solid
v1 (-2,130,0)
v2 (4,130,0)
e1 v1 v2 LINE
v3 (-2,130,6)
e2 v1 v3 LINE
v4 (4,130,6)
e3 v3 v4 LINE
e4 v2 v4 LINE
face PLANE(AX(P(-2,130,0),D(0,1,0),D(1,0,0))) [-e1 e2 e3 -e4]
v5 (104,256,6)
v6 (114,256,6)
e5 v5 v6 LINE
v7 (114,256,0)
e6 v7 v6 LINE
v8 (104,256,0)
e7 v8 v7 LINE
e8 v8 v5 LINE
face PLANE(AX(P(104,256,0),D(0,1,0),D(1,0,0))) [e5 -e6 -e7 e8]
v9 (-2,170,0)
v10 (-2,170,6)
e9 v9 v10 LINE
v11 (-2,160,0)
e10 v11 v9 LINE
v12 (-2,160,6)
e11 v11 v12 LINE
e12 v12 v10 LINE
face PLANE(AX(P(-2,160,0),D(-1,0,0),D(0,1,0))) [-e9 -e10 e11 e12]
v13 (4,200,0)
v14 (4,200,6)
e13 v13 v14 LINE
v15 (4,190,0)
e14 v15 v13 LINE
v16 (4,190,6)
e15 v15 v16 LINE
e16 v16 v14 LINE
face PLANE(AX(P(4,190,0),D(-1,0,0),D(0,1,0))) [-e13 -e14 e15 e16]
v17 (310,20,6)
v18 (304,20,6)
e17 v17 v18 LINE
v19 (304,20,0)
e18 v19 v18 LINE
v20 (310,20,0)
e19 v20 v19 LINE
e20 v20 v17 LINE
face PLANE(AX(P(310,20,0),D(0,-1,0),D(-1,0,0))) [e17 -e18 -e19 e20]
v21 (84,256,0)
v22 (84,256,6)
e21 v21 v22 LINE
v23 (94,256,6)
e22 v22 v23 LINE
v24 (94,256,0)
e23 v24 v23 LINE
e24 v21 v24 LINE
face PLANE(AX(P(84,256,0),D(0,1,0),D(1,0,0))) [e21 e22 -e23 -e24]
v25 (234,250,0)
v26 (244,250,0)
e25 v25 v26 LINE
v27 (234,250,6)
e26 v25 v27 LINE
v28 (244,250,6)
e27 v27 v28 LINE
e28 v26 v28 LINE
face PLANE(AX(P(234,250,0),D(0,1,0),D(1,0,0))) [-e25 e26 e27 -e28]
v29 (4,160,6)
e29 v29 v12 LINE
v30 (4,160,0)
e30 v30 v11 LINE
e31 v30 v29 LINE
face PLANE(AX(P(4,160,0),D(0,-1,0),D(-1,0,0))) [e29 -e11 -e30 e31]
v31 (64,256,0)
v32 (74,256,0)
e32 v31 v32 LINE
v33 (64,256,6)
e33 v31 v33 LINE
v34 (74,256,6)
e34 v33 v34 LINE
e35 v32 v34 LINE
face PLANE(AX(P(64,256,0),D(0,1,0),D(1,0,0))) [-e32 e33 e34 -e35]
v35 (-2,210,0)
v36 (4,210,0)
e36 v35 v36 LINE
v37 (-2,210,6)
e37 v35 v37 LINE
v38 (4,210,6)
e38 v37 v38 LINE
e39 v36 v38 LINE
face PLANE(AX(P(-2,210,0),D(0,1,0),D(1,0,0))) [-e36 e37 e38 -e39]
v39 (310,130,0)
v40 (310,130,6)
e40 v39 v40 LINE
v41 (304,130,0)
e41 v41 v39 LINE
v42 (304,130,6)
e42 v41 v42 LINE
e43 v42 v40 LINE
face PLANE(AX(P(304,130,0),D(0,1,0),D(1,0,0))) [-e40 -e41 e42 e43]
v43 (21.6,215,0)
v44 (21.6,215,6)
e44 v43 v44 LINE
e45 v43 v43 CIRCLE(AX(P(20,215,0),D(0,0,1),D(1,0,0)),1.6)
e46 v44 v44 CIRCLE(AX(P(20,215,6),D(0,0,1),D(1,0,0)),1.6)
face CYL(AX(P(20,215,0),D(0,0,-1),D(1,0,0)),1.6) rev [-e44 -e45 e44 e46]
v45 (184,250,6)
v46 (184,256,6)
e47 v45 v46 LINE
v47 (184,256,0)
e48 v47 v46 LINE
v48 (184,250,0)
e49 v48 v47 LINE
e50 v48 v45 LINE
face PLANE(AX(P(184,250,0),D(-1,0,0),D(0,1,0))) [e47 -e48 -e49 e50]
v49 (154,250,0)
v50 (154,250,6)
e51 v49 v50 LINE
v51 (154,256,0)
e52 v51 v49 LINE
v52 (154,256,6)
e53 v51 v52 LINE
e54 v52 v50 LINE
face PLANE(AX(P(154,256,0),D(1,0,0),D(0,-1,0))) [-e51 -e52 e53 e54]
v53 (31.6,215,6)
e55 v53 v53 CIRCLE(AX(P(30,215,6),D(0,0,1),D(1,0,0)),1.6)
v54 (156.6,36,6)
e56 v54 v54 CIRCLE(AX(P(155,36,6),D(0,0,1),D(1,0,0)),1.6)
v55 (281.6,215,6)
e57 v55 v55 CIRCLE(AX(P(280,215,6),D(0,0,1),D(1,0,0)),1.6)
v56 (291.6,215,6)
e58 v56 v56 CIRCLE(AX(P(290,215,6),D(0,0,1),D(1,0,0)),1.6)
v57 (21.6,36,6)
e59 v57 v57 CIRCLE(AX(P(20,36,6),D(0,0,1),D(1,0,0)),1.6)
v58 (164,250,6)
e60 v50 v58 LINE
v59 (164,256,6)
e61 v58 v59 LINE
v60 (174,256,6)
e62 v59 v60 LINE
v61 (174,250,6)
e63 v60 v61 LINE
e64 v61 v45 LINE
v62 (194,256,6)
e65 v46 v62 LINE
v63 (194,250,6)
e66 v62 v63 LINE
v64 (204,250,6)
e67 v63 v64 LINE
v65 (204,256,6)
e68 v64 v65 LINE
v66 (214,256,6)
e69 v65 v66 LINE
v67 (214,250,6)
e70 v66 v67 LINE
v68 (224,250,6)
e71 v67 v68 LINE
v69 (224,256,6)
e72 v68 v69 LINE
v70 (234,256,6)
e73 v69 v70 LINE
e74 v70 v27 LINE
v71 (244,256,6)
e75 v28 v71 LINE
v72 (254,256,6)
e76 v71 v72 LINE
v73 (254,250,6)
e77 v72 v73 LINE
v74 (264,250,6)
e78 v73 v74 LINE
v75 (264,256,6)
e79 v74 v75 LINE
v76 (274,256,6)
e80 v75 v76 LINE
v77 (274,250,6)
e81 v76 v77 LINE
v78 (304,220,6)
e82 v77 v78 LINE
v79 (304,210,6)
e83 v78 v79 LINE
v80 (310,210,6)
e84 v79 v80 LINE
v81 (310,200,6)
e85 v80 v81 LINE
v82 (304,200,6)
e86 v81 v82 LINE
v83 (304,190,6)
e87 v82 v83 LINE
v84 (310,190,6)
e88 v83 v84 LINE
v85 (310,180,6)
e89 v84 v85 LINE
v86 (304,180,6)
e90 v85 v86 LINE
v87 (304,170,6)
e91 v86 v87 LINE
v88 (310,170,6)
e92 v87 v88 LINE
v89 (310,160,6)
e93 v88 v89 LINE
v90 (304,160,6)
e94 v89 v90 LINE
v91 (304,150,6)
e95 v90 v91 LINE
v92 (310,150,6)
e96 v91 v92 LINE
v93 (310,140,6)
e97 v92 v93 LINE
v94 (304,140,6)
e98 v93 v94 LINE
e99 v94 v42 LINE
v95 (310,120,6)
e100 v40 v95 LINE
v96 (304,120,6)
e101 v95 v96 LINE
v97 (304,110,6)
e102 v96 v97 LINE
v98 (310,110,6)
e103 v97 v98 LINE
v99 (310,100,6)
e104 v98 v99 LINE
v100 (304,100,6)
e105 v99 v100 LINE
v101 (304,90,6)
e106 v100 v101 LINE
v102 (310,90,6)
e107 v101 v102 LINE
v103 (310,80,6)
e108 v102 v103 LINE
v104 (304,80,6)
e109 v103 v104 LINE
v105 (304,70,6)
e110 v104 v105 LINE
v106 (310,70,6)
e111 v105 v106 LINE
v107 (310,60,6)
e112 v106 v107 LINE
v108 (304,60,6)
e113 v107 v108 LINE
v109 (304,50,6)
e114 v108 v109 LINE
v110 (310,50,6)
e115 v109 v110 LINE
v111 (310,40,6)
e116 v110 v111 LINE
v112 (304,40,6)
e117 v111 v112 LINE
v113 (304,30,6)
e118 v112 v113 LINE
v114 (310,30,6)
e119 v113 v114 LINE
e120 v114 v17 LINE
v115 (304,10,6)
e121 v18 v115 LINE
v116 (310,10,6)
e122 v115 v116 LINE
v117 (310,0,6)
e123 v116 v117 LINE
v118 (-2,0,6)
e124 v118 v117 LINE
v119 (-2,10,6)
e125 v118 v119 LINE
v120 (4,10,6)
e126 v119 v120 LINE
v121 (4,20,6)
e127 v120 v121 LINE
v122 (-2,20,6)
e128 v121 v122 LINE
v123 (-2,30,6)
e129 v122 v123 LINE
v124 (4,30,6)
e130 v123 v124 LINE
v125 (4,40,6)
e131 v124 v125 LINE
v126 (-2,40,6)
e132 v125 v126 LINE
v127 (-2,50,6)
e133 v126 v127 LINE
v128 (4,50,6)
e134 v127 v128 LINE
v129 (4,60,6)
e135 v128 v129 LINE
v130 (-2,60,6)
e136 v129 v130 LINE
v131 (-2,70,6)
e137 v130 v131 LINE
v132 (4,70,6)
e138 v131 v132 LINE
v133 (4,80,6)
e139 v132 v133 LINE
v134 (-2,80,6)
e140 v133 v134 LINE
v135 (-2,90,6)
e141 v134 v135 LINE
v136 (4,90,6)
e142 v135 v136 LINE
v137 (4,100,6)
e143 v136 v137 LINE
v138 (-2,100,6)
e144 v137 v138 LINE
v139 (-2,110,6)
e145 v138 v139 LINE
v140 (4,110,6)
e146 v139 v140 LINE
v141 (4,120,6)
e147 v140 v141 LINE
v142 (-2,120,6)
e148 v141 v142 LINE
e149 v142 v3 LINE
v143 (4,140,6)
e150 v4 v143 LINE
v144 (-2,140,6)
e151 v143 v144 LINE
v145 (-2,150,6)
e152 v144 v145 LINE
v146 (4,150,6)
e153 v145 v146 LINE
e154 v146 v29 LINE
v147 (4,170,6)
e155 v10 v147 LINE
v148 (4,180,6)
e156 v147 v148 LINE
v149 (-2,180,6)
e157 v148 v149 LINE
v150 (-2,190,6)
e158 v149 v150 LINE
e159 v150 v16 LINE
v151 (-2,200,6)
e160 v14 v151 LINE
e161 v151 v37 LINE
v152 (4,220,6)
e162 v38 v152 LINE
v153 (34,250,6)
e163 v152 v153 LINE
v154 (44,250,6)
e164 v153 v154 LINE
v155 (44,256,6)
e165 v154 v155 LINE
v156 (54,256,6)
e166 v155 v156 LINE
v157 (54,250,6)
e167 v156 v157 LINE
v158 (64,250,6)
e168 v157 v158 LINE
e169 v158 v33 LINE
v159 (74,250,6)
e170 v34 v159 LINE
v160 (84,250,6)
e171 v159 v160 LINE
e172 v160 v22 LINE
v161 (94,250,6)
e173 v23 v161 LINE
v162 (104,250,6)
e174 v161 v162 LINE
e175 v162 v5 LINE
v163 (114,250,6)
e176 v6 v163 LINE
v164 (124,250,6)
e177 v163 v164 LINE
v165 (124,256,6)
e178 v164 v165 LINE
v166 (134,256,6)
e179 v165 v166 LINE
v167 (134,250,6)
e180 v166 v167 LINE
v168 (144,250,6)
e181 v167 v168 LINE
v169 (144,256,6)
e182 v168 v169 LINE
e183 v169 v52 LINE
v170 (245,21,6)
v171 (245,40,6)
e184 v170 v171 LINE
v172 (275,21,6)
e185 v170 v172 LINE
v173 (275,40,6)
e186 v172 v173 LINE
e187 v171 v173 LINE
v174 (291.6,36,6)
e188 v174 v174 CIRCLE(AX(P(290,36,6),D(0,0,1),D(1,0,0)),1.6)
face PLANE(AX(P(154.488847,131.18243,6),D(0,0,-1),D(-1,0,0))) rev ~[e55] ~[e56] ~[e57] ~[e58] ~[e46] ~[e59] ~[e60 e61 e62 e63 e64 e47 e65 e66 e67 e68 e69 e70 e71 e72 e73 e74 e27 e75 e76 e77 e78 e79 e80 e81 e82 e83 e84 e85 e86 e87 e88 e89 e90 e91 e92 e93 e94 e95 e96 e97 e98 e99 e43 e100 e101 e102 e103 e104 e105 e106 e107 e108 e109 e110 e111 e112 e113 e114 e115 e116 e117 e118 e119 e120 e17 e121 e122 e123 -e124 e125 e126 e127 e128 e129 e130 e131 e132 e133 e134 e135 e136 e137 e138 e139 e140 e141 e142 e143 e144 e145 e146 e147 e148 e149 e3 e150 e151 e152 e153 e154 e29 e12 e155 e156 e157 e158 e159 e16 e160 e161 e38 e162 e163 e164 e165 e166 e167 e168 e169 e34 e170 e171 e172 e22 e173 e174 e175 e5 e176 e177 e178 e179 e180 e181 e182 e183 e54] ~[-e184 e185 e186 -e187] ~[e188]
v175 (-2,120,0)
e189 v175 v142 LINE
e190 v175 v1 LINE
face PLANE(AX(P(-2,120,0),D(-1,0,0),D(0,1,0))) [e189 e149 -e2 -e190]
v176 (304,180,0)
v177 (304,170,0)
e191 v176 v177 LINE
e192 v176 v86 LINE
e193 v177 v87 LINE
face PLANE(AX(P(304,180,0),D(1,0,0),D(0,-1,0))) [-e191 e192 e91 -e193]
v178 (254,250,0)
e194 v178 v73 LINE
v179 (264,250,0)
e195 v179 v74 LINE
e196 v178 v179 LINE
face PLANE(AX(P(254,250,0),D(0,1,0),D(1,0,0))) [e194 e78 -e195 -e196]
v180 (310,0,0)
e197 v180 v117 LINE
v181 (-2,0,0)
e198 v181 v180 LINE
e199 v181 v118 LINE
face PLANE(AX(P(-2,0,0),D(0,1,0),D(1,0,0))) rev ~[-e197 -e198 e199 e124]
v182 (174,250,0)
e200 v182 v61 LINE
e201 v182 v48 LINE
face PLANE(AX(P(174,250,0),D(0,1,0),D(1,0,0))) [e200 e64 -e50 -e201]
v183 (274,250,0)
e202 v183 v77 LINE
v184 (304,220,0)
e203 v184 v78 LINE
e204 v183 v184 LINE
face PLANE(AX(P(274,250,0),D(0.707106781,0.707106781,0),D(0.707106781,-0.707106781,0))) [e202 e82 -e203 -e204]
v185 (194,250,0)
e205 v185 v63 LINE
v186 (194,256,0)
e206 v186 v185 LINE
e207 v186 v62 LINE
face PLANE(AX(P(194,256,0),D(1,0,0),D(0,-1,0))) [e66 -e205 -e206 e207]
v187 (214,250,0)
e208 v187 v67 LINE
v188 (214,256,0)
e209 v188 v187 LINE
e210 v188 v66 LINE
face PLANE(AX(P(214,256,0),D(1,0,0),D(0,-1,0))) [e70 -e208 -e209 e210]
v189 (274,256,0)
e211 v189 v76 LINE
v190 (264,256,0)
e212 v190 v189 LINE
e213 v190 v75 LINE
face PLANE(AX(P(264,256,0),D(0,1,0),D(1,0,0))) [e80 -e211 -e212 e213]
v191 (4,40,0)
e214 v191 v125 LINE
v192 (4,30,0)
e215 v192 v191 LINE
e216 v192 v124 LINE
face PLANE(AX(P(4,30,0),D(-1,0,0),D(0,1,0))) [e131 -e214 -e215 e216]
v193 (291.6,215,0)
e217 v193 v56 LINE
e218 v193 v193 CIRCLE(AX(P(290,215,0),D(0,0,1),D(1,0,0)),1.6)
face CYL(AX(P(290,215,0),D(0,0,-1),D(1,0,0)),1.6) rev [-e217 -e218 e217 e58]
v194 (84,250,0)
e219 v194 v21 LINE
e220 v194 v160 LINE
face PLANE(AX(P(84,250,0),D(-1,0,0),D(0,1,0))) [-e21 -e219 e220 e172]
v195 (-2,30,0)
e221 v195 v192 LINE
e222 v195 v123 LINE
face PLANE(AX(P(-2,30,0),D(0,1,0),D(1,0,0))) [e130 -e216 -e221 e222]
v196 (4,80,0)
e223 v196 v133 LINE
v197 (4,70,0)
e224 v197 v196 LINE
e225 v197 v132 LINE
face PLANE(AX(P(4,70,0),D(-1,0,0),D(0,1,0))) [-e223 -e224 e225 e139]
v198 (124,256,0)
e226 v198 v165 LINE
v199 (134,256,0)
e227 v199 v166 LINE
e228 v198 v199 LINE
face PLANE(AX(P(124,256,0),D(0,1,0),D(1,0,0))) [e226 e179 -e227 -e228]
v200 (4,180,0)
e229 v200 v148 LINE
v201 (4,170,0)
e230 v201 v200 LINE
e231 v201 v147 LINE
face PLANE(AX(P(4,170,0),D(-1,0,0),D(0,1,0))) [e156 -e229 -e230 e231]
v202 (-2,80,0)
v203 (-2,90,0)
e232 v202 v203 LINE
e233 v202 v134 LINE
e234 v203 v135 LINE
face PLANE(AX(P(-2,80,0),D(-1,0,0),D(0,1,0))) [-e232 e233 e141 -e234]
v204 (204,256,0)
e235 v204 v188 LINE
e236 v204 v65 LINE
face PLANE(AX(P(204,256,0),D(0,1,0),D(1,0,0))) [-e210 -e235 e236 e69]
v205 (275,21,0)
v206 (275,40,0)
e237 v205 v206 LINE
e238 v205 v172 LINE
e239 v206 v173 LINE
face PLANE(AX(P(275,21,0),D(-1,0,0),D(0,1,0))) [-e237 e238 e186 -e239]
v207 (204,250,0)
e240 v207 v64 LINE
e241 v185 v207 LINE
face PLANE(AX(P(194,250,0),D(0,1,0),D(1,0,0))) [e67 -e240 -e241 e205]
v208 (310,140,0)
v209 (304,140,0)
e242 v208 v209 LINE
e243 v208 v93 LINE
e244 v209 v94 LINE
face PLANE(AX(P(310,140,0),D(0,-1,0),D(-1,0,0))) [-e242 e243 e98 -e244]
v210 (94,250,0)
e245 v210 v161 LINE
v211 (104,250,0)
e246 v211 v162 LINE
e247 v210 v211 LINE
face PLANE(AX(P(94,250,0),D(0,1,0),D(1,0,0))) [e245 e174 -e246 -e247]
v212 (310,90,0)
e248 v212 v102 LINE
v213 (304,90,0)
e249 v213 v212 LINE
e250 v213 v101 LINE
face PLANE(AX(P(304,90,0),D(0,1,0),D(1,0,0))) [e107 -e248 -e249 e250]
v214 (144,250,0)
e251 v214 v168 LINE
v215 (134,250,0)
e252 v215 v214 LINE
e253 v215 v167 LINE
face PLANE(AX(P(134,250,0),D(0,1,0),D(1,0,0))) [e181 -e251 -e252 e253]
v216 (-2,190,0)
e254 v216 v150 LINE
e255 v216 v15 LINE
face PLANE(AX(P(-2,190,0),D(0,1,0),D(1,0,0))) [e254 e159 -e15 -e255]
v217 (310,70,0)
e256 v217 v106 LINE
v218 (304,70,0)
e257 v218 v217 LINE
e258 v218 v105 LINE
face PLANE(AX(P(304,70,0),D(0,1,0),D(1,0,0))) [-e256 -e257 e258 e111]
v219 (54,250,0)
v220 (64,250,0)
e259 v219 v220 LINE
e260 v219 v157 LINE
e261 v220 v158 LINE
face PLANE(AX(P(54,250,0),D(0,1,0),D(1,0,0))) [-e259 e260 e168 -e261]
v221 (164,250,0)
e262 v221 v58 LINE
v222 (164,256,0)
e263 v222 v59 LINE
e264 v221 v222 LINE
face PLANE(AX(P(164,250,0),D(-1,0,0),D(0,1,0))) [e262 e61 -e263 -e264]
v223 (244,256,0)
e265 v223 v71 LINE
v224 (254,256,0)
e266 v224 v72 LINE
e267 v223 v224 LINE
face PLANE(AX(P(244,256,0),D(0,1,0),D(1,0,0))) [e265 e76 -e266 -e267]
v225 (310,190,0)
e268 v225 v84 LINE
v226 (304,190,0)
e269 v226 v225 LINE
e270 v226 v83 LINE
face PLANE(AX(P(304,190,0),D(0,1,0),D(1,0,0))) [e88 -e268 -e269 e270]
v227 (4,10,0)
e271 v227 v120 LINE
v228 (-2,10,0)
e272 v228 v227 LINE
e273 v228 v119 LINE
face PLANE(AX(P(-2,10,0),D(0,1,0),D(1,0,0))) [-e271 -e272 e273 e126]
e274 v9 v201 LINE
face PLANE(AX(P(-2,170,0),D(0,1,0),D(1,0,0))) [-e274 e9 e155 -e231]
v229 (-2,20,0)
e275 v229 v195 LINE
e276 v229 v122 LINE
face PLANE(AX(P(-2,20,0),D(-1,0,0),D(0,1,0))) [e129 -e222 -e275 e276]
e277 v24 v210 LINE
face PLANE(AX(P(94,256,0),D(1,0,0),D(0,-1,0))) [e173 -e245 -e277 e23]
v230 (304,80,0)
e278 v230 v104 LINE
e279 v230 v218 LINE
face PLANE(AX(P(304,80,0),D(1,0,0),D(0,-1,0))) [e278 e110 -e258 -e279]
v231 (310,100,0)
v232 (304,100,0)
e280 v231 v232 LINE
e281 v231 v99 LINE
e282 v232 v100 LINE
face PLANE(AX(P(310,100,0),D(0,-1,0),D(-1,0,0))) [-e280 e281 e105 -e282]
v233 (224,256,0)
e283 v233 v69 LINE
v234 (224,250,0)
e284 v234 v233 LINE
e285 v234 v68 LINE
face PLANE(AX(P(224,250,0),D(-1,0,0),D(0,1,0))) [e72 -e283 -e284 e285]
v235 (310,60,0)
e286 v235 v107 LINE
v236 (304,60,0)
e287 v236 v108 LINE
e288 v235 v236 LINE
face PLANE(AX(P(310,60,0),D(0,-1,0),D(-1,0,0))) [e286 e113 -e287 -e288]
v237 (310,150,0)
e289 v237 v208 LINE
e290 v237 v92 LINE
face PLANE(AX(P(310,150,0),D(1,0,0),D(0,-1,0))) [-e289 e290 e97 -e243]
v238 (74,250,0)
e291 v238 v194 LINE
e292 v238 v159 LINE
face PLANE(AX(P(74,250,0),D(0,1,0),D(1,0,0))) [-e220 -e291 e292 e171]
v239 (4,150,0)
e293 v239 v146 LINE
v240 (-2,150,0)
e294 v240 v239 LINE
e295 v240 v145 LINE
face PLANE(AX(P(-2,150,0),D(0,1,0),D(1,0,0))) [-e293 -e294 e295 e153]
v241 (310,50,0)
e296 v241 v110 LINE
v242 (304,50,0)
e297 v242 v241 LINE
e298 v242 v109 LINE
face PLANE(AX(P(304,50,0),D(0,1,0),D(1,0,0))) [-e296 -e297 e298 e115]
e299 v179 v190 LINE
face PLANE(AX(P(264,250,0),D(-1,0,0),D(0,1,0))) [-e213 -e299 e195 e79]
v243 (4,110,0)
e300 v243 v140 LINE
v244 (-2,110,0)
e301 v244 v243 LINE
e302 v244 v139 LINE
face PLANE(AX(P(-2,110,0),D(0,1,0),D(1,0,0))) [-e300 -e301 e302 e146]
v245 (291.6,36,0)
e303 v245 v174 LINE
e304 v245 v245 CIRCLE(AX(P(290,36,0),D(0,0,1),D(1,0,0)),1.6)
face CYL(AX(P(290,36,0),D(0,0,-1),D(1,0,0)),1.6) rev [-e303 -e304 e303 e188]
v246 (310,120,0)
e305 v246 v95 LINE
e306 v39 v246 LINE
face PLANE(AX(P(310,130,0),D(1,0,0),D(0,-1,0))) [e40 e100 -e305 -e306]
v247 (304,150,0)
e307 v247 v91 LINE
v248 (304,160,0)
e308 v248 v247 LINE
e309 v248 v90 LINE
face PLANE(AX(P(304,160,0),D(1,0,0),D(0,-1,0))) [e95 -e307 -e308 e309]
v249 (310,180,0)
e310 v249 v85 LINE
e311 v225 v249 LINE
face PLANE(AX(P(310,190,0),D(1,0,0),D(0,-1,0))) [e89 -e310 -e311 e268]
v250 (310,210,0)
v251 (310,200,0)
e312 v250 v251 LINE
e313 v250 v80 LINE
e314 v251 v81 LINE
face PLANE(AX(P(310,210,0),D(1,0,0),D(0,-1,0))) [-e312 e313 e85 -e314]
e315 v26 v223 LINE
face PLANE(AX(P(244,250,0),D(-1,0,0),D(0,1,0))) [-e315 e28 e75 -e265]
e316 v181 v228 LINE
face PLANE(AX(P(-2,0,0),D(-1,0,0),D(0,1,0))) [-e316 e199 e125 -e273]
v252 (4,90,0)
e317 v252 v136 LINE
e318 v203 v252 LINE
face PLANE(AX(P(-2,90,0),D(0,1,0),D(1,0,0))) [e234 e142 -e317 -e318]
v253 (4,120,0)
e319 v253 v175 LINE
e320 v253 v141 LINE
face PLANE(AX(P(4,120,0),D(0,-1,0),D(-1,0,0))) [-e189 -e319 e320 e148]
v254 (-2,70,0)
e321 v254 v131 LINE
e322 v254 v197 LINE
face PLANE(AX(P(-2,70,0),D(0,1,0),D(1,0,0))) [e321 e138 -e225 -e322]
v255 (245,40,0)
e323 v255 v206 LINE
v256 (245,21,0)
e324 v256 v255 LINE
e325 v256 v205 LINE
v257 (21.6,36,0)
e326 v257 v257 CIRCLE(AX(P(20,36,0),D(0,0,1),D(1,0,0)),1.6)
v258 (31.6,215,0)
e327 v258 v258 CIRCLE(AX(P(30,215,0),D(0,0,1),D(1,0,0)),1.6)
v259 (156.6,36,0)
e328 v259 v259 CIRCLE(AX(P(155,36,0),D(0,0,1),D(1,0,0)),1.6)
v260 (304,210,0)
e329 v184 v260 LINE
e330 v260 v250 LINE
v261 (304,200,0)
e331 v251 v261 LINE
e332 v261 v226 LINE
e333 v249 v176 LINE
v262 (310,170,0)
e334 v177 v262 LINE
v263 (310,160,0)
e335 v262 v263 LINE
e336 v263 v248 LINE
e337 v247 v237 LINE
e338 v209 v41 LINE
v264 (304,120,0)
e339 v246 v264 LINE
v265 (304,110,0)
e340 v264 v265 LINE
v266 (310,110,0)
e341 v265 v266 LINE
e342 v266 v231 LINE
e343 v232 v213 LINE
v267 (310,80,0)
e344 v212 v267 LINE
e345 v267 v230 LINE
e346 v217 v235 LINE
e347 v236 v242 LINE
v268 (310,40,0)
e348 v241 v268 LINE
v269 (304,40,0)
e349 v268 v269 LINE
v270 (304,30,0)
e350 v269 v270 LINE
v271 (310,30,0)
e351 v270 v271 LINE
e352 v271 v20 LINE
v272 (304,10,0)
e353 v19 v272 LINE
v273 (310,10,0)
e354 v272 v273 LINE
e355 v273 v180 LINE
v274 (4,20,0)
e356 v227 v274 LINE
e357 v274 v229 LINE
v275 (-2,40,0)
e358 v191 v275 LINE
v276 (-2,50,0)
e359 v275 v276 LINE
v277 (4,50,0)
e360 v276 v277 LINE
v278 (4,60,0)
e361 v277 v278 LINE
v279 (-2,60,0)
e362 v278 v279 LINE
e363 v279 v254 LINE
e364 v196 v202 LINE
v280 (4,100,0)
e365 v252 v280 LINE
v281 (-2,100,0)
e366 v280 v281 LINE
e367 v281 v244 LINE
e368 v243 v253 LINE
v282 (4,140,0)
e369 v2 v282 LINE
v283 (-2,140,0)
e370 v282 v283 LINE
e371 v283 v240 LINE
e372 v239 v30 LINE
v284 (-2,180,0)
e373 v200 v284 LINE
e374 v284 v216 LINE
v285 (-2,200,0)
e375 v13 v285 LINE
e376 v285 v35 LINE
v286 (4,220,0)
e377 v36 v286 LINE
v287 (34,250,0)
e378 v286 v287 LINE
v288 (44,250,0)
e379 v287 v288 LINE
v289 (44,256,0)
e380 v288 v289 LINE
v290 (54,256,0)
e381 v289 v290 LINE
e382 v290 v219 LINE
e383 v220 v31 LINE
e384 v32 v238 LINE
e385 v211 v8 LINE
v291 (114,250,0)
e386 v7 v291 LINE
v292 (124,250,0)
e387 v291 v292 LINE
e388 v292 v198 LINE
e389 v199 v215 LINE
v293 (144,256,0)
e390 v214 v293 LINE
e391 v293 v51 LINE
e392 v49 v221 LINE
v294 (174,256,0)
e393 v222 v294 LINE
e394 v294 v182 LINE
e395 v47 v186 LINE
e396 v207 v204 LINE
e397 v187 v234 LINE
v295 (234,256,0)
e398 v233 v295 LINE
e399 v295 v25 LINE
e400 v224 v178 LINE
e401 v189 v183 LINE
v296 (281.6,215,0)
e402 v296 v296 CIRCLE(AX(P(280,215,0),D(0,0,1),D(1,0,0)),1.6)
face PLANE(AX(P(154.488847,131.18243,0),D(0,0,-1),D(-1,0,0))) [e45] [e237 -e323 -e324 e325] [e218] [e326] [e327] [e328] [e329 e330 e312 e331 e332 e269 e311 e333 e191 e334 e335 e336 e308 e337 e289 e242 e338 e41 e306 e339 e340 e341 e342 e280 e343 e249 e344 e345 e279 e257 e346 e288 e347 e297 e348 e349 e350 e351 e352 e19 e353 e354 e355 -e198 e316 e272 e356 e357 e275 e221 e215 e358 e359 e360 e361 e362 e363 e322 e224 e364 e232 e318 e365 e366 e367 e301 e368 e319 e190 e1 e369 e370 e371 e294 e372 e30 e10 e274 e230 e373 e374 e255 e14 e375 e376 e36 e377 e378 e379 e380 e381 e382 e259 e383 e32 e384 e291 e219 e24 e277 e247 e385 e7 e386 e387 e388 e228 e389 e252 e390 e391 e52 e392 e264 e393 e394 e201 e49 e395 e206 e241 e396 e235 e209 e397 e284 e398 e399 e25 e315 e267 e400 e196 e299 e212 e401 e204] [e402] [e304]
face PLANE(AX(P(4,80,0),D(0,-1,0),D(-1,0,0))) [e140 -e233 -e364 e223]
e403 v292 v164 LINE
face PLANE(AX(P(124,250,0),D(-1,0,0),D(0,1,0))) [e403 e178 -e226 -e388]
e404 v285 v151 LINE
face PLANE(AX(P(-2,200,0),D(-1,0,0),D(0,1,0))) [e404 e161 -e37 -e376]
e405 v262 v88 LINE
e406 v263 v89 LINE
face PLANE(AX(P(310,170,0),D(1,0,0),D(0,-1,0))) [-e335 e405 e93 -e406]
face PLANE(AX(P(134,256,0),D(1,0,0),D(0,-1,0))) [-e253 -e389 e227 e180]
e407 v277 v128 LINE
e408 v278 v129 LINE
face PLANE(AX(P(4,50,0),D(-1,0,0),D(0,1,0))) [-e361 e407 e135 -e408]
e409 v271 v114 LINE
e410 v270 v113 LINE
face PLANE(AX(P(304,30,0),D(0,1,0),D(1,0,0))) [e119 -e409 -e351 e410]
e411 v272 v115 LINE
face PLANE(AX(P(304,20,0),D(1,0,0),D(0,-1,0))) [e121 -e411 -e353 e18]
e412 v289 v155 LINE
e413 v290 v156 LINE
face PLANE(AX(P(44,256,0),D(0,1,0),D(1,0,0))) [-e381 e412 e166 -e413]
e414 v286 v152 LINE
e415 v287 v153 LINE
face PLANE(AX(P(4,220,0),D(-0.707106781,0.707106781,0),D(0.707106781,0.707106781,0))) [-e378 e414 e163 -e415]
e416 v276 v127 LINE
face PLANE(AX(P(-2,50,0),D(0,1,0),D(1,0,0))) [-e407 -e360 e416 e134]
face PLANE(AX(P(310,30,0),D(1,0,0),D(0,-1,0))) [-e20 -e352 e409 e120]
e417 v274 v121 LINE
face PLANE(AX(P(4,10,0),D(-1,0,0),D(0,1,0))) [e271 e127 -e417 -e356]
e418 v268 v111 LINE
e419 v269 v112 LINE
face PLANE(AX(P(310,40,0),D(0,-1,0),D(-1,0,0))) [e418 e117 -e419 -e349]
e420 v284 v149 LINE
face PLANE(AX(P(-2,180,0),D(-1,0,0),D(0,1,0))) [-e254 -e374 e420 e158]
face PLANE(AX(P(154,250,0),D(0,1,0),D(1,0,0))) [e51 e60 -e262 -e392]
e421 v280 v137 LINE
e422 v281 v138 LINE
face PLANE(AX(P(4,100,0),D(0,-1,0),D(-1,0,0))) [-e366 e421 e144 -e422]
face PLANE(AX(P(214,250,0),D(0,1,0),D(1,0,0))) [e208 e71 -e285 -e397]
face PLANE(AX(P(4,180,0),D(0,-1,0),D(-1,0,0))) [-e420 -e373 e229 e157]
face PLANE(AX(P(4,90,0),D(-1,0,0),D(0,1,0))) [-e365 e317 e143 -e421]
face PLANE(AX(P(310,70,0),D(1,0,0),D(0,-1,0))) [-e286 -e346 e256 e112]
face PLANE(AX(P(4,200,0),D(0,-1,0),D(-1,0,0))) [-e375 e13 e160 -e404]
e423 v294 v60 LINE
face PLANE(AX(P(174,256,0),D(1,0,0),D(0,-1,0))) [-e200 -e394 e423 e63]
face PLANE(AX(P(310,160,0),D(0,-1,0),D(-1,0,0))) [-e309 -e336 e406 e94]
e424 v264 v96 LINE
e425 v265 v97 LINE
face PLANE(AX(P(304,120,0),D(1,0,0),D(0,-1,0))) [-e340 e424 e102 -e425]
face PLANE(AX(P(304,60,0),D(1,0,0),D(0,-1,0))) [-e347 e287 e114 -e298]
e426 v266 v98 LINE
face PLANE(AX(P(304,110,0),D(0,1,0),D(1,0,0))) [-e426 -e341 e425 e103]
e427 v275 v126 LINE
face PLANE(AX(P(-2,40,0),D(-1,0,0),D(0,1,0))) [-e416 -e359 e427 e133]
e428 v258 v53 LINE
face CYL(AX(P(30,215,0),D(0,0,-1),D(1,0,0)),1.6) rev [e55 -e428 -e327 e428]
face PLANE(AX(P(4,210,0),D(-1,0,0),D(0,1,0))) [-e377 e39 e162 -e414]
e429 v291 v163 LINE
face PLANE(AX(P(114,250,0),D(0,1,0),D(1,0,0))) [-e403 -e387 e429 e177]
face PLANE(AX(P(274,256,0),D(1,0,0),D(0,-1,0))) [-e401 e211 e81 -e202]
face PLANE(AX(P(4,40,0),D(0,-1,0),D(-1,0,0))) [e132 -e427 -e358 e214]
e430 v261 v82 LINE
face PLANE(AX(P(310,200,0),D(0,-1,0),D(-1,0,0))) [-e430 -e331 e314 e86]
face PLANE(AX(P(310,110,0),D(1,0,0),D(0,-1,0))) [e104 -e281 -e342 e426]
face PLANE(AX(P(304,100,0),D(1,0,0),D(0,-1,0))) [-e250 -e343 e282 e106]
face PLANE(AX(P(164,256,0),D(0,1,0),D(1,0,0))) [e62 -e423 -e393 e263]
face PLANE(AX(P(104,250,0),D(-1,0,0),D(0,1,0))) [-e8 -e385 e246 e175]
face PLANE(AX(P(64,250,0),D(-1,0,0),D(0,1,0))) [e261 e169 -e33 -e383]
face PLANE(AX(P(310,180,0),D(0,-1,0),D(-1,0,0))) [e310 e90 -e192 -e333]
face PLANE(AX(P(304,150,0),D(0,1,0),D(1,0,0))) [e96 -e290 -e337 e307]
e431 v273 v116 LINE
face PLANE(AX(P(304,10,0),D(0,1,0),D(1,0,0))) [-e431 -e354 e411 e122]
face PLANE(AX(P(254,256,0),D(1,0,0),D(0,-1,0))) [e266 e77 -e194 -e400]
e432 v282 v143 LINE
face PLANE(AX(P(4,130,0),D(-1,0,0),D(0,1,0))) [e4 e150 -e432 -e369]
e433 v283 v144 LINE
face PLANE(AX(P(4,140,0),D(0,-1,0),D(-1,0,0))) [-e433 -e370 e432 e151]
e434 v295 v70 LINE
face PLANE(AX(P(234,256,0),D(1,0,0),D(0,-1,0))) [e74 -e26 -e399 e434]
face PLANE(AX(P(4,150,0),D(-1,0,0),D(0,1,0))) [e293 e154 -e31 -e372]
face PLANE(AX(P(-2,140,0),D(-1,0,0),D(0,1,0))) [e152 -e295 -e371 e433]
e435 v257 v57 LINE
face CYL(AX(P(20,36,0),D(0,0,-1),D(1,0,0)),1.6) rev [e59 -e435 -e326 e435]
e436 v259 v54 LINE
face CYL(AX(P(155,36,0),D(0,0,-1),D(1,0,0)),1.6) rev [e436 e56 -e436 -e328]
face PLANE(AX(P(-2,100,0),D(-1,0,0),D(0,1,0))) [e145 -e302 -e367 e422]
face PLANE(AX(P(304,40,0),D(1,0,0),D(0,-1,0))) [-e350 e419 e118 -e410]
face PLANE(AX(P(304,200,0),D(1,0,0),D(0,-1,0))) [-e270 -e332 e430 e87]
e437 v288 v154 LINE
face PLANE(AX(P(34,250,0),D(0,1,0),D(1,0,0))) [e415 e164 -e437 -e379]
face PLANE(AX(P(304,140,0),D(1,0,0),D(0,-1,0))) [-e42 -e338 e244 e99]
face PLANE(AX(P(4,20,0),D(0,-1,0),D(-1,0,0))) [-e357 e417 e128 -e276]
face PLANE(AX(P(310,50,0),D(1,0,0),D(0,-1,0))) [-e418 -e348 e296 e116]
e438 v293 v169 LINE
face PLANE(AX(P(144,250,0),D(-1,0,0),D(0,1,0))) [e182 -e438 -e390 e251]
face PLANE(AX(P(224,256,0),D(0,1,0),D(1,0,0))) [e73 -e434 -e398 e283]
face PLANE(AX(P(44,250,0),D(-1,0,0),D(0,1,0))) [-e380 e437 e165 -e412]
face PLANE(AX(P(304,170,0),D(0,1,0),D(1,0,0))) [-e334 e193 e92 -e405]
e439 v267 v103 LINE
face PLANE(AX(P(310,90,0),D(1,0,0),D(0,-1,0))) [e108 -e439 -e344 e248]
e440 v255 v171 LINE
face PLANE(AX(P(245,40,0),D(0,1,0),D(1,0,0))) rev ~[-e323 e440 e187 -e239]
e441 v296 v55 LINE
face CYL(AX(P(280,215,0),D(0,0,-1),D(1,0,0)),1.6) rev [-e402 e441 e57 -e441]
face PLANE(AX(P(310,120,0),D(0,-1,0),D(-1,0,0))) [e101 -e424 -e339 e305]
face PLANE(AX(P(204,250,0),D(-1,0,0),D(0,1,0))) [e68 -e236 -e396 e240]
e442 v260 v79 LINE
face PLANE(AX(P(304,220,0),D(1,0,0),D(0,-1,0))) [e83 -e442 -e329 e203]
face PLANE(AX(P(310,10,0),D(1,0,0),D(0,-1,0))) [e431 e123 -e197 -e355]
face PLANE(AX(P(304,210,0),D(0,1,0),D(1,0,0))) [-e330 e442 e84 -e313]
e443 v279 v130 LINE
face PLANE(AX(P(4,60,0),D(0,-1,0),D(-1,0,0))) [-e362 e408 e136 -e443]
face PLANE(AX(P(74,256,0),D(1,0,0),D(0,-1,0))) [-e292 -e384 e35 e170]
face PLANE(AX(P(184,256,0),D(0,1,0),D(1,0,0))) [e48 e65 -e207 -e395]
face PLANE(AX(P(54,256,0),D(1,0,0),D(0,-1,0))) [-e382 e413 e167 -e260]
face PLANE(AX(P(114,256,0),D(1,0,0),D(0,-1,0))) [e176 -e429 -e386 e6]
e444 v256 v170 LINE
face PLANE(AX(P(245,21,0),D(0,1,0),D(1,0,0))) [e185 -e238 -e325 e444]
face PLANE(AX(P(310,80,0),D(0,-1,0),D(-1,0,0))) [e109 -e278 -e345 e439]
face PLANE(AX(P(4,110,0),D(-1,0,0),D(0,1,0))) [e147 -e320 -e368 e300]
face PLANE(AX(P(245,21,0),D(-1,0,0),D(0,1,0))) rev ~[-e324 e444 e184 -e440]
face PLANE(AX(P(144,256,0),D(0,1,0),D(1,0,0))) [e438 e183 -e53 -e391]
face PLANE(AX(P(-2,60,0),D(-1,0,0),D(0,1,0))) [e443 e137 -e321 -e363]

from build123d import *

# Parameters (mm, degrees)
SKIZZE1_R                       = 1.6
SKIZZE1_W                       = 30
SKIZZE1_H                       = 19
AUFSATZ_LINEAR_AUSTRAGEN1_DEPTH = 6


with BuildPart() as part:
    # Skizze1 → Aufsatz-Linear austragen1 (new body)
    with BuildSketch(Plane.XY):
        Polygon((4, 10), (4, 20), (-2, 20), (-2, 30), (4, 30), (4, 40), (-2, 40), (-2, 50), (4, 50), (4, 60), (-2, 60), (-2, 70), (4, 70), (4, 80), (-2, 80), (-2, 90), (4, 90), (4, 100), (-2, 100), (-2, 110), (4, 110), (4, 120), (-2, 120), (-2, 130), (4, 130), (4, 140), (-2, 140), (-2, 150), (4, 150), (4, 160), (-2, 160), (-2, 170), (4, 170), (4, 180), (-2, 180), (-2, 190), (4, 190), (4, 200), (-2, 200), (-2, 210), (4, 210), (4, 220), (34, 250), (44, 250), (44, 256), (54, 256), (54, 250), (64, 250), (64, 256), (74, 256), (74, 250), (84, 250), (84, 256), (94, 256), (94, 250), (104, 250), (104, 256), (114, 256), (114, 250), (124, 250), (124, 256), (134, 256), (134, 250), (144, 250), (144, 256), (154, 256), (154, 250), (164, 250), (164, 256), (174, 256), (174, 250), (184, 250), (184, 256), (194, 256), (194, 250), (204, 250), (204, 256), (214, 256), (214, 250), (224, 250), (224, 256), (234, 256), (234, 250), (244, 250), (244, 256), (254, 256), (254, 250), (264, 250), (264, 256), (274, 256), (274, 250), (304, 220), (304, 210), (310, 210), (310, 200), (304, 200), (304, 190), (310, 190), (310, 180), (304, 180), (304, 170), (310, 170), (310, 160), (304, 160), (304, 150), (310, 150), (310, 140), (304, 140), (304, 130), (310, 130), (310, 120), (304, 120), (304, 110), (310, 110), (310, 100), (304, 100), (304, 90), (310, 90), (310, 80), (304, 80), (304, 70), (310, 70), (310, 60), (304, 60), (304, 50), (310, 50), (310, 40), (304, 40), (304, 30), (310, 30), (310, 20), (304, 20), (304, 10), (310, 10), (310, 0), (304, 0), (4, 0), (-2, 0), (-2, 10), align=None)
        with Locations((20, 215)):
            Circle(SKIZZE1_R, mode=Mode.SUBTRACT)
        with Locations((30, 215)):
            Circle(SKIZZE1_R, mode=Mode.SUBTRACT)
        with Locations((290, 215)):
            Circle(SKIZZE1_R, mode=Mode.SUBTRACT)
        with Locations((280, 215)):
            Circle(SKIZZE1_R, mode=Mode.SUBTRACT)
        with Locations((20, 36)):
            Circle(SKIZZE1_R, mode=Mode.SUBTRACT)
        with Locations((155, 36)):
            Circle(SKIZZE1_R, mode=Mode.SUBTRACT)
        with Locations((290, 36)):
            Circle(SKIZZE1_R, mode=Mode.SUBTRACT)
        with Locations((260, 30.5)):
            Rectangle(SKIZZE1_W, SKIZZE1_H, mode=Mode.SUBTRACT)
    extrude(amount=AUFSATZ_LINEAR_AUSTRAGEN1_DEPTH)


solid = part.part
